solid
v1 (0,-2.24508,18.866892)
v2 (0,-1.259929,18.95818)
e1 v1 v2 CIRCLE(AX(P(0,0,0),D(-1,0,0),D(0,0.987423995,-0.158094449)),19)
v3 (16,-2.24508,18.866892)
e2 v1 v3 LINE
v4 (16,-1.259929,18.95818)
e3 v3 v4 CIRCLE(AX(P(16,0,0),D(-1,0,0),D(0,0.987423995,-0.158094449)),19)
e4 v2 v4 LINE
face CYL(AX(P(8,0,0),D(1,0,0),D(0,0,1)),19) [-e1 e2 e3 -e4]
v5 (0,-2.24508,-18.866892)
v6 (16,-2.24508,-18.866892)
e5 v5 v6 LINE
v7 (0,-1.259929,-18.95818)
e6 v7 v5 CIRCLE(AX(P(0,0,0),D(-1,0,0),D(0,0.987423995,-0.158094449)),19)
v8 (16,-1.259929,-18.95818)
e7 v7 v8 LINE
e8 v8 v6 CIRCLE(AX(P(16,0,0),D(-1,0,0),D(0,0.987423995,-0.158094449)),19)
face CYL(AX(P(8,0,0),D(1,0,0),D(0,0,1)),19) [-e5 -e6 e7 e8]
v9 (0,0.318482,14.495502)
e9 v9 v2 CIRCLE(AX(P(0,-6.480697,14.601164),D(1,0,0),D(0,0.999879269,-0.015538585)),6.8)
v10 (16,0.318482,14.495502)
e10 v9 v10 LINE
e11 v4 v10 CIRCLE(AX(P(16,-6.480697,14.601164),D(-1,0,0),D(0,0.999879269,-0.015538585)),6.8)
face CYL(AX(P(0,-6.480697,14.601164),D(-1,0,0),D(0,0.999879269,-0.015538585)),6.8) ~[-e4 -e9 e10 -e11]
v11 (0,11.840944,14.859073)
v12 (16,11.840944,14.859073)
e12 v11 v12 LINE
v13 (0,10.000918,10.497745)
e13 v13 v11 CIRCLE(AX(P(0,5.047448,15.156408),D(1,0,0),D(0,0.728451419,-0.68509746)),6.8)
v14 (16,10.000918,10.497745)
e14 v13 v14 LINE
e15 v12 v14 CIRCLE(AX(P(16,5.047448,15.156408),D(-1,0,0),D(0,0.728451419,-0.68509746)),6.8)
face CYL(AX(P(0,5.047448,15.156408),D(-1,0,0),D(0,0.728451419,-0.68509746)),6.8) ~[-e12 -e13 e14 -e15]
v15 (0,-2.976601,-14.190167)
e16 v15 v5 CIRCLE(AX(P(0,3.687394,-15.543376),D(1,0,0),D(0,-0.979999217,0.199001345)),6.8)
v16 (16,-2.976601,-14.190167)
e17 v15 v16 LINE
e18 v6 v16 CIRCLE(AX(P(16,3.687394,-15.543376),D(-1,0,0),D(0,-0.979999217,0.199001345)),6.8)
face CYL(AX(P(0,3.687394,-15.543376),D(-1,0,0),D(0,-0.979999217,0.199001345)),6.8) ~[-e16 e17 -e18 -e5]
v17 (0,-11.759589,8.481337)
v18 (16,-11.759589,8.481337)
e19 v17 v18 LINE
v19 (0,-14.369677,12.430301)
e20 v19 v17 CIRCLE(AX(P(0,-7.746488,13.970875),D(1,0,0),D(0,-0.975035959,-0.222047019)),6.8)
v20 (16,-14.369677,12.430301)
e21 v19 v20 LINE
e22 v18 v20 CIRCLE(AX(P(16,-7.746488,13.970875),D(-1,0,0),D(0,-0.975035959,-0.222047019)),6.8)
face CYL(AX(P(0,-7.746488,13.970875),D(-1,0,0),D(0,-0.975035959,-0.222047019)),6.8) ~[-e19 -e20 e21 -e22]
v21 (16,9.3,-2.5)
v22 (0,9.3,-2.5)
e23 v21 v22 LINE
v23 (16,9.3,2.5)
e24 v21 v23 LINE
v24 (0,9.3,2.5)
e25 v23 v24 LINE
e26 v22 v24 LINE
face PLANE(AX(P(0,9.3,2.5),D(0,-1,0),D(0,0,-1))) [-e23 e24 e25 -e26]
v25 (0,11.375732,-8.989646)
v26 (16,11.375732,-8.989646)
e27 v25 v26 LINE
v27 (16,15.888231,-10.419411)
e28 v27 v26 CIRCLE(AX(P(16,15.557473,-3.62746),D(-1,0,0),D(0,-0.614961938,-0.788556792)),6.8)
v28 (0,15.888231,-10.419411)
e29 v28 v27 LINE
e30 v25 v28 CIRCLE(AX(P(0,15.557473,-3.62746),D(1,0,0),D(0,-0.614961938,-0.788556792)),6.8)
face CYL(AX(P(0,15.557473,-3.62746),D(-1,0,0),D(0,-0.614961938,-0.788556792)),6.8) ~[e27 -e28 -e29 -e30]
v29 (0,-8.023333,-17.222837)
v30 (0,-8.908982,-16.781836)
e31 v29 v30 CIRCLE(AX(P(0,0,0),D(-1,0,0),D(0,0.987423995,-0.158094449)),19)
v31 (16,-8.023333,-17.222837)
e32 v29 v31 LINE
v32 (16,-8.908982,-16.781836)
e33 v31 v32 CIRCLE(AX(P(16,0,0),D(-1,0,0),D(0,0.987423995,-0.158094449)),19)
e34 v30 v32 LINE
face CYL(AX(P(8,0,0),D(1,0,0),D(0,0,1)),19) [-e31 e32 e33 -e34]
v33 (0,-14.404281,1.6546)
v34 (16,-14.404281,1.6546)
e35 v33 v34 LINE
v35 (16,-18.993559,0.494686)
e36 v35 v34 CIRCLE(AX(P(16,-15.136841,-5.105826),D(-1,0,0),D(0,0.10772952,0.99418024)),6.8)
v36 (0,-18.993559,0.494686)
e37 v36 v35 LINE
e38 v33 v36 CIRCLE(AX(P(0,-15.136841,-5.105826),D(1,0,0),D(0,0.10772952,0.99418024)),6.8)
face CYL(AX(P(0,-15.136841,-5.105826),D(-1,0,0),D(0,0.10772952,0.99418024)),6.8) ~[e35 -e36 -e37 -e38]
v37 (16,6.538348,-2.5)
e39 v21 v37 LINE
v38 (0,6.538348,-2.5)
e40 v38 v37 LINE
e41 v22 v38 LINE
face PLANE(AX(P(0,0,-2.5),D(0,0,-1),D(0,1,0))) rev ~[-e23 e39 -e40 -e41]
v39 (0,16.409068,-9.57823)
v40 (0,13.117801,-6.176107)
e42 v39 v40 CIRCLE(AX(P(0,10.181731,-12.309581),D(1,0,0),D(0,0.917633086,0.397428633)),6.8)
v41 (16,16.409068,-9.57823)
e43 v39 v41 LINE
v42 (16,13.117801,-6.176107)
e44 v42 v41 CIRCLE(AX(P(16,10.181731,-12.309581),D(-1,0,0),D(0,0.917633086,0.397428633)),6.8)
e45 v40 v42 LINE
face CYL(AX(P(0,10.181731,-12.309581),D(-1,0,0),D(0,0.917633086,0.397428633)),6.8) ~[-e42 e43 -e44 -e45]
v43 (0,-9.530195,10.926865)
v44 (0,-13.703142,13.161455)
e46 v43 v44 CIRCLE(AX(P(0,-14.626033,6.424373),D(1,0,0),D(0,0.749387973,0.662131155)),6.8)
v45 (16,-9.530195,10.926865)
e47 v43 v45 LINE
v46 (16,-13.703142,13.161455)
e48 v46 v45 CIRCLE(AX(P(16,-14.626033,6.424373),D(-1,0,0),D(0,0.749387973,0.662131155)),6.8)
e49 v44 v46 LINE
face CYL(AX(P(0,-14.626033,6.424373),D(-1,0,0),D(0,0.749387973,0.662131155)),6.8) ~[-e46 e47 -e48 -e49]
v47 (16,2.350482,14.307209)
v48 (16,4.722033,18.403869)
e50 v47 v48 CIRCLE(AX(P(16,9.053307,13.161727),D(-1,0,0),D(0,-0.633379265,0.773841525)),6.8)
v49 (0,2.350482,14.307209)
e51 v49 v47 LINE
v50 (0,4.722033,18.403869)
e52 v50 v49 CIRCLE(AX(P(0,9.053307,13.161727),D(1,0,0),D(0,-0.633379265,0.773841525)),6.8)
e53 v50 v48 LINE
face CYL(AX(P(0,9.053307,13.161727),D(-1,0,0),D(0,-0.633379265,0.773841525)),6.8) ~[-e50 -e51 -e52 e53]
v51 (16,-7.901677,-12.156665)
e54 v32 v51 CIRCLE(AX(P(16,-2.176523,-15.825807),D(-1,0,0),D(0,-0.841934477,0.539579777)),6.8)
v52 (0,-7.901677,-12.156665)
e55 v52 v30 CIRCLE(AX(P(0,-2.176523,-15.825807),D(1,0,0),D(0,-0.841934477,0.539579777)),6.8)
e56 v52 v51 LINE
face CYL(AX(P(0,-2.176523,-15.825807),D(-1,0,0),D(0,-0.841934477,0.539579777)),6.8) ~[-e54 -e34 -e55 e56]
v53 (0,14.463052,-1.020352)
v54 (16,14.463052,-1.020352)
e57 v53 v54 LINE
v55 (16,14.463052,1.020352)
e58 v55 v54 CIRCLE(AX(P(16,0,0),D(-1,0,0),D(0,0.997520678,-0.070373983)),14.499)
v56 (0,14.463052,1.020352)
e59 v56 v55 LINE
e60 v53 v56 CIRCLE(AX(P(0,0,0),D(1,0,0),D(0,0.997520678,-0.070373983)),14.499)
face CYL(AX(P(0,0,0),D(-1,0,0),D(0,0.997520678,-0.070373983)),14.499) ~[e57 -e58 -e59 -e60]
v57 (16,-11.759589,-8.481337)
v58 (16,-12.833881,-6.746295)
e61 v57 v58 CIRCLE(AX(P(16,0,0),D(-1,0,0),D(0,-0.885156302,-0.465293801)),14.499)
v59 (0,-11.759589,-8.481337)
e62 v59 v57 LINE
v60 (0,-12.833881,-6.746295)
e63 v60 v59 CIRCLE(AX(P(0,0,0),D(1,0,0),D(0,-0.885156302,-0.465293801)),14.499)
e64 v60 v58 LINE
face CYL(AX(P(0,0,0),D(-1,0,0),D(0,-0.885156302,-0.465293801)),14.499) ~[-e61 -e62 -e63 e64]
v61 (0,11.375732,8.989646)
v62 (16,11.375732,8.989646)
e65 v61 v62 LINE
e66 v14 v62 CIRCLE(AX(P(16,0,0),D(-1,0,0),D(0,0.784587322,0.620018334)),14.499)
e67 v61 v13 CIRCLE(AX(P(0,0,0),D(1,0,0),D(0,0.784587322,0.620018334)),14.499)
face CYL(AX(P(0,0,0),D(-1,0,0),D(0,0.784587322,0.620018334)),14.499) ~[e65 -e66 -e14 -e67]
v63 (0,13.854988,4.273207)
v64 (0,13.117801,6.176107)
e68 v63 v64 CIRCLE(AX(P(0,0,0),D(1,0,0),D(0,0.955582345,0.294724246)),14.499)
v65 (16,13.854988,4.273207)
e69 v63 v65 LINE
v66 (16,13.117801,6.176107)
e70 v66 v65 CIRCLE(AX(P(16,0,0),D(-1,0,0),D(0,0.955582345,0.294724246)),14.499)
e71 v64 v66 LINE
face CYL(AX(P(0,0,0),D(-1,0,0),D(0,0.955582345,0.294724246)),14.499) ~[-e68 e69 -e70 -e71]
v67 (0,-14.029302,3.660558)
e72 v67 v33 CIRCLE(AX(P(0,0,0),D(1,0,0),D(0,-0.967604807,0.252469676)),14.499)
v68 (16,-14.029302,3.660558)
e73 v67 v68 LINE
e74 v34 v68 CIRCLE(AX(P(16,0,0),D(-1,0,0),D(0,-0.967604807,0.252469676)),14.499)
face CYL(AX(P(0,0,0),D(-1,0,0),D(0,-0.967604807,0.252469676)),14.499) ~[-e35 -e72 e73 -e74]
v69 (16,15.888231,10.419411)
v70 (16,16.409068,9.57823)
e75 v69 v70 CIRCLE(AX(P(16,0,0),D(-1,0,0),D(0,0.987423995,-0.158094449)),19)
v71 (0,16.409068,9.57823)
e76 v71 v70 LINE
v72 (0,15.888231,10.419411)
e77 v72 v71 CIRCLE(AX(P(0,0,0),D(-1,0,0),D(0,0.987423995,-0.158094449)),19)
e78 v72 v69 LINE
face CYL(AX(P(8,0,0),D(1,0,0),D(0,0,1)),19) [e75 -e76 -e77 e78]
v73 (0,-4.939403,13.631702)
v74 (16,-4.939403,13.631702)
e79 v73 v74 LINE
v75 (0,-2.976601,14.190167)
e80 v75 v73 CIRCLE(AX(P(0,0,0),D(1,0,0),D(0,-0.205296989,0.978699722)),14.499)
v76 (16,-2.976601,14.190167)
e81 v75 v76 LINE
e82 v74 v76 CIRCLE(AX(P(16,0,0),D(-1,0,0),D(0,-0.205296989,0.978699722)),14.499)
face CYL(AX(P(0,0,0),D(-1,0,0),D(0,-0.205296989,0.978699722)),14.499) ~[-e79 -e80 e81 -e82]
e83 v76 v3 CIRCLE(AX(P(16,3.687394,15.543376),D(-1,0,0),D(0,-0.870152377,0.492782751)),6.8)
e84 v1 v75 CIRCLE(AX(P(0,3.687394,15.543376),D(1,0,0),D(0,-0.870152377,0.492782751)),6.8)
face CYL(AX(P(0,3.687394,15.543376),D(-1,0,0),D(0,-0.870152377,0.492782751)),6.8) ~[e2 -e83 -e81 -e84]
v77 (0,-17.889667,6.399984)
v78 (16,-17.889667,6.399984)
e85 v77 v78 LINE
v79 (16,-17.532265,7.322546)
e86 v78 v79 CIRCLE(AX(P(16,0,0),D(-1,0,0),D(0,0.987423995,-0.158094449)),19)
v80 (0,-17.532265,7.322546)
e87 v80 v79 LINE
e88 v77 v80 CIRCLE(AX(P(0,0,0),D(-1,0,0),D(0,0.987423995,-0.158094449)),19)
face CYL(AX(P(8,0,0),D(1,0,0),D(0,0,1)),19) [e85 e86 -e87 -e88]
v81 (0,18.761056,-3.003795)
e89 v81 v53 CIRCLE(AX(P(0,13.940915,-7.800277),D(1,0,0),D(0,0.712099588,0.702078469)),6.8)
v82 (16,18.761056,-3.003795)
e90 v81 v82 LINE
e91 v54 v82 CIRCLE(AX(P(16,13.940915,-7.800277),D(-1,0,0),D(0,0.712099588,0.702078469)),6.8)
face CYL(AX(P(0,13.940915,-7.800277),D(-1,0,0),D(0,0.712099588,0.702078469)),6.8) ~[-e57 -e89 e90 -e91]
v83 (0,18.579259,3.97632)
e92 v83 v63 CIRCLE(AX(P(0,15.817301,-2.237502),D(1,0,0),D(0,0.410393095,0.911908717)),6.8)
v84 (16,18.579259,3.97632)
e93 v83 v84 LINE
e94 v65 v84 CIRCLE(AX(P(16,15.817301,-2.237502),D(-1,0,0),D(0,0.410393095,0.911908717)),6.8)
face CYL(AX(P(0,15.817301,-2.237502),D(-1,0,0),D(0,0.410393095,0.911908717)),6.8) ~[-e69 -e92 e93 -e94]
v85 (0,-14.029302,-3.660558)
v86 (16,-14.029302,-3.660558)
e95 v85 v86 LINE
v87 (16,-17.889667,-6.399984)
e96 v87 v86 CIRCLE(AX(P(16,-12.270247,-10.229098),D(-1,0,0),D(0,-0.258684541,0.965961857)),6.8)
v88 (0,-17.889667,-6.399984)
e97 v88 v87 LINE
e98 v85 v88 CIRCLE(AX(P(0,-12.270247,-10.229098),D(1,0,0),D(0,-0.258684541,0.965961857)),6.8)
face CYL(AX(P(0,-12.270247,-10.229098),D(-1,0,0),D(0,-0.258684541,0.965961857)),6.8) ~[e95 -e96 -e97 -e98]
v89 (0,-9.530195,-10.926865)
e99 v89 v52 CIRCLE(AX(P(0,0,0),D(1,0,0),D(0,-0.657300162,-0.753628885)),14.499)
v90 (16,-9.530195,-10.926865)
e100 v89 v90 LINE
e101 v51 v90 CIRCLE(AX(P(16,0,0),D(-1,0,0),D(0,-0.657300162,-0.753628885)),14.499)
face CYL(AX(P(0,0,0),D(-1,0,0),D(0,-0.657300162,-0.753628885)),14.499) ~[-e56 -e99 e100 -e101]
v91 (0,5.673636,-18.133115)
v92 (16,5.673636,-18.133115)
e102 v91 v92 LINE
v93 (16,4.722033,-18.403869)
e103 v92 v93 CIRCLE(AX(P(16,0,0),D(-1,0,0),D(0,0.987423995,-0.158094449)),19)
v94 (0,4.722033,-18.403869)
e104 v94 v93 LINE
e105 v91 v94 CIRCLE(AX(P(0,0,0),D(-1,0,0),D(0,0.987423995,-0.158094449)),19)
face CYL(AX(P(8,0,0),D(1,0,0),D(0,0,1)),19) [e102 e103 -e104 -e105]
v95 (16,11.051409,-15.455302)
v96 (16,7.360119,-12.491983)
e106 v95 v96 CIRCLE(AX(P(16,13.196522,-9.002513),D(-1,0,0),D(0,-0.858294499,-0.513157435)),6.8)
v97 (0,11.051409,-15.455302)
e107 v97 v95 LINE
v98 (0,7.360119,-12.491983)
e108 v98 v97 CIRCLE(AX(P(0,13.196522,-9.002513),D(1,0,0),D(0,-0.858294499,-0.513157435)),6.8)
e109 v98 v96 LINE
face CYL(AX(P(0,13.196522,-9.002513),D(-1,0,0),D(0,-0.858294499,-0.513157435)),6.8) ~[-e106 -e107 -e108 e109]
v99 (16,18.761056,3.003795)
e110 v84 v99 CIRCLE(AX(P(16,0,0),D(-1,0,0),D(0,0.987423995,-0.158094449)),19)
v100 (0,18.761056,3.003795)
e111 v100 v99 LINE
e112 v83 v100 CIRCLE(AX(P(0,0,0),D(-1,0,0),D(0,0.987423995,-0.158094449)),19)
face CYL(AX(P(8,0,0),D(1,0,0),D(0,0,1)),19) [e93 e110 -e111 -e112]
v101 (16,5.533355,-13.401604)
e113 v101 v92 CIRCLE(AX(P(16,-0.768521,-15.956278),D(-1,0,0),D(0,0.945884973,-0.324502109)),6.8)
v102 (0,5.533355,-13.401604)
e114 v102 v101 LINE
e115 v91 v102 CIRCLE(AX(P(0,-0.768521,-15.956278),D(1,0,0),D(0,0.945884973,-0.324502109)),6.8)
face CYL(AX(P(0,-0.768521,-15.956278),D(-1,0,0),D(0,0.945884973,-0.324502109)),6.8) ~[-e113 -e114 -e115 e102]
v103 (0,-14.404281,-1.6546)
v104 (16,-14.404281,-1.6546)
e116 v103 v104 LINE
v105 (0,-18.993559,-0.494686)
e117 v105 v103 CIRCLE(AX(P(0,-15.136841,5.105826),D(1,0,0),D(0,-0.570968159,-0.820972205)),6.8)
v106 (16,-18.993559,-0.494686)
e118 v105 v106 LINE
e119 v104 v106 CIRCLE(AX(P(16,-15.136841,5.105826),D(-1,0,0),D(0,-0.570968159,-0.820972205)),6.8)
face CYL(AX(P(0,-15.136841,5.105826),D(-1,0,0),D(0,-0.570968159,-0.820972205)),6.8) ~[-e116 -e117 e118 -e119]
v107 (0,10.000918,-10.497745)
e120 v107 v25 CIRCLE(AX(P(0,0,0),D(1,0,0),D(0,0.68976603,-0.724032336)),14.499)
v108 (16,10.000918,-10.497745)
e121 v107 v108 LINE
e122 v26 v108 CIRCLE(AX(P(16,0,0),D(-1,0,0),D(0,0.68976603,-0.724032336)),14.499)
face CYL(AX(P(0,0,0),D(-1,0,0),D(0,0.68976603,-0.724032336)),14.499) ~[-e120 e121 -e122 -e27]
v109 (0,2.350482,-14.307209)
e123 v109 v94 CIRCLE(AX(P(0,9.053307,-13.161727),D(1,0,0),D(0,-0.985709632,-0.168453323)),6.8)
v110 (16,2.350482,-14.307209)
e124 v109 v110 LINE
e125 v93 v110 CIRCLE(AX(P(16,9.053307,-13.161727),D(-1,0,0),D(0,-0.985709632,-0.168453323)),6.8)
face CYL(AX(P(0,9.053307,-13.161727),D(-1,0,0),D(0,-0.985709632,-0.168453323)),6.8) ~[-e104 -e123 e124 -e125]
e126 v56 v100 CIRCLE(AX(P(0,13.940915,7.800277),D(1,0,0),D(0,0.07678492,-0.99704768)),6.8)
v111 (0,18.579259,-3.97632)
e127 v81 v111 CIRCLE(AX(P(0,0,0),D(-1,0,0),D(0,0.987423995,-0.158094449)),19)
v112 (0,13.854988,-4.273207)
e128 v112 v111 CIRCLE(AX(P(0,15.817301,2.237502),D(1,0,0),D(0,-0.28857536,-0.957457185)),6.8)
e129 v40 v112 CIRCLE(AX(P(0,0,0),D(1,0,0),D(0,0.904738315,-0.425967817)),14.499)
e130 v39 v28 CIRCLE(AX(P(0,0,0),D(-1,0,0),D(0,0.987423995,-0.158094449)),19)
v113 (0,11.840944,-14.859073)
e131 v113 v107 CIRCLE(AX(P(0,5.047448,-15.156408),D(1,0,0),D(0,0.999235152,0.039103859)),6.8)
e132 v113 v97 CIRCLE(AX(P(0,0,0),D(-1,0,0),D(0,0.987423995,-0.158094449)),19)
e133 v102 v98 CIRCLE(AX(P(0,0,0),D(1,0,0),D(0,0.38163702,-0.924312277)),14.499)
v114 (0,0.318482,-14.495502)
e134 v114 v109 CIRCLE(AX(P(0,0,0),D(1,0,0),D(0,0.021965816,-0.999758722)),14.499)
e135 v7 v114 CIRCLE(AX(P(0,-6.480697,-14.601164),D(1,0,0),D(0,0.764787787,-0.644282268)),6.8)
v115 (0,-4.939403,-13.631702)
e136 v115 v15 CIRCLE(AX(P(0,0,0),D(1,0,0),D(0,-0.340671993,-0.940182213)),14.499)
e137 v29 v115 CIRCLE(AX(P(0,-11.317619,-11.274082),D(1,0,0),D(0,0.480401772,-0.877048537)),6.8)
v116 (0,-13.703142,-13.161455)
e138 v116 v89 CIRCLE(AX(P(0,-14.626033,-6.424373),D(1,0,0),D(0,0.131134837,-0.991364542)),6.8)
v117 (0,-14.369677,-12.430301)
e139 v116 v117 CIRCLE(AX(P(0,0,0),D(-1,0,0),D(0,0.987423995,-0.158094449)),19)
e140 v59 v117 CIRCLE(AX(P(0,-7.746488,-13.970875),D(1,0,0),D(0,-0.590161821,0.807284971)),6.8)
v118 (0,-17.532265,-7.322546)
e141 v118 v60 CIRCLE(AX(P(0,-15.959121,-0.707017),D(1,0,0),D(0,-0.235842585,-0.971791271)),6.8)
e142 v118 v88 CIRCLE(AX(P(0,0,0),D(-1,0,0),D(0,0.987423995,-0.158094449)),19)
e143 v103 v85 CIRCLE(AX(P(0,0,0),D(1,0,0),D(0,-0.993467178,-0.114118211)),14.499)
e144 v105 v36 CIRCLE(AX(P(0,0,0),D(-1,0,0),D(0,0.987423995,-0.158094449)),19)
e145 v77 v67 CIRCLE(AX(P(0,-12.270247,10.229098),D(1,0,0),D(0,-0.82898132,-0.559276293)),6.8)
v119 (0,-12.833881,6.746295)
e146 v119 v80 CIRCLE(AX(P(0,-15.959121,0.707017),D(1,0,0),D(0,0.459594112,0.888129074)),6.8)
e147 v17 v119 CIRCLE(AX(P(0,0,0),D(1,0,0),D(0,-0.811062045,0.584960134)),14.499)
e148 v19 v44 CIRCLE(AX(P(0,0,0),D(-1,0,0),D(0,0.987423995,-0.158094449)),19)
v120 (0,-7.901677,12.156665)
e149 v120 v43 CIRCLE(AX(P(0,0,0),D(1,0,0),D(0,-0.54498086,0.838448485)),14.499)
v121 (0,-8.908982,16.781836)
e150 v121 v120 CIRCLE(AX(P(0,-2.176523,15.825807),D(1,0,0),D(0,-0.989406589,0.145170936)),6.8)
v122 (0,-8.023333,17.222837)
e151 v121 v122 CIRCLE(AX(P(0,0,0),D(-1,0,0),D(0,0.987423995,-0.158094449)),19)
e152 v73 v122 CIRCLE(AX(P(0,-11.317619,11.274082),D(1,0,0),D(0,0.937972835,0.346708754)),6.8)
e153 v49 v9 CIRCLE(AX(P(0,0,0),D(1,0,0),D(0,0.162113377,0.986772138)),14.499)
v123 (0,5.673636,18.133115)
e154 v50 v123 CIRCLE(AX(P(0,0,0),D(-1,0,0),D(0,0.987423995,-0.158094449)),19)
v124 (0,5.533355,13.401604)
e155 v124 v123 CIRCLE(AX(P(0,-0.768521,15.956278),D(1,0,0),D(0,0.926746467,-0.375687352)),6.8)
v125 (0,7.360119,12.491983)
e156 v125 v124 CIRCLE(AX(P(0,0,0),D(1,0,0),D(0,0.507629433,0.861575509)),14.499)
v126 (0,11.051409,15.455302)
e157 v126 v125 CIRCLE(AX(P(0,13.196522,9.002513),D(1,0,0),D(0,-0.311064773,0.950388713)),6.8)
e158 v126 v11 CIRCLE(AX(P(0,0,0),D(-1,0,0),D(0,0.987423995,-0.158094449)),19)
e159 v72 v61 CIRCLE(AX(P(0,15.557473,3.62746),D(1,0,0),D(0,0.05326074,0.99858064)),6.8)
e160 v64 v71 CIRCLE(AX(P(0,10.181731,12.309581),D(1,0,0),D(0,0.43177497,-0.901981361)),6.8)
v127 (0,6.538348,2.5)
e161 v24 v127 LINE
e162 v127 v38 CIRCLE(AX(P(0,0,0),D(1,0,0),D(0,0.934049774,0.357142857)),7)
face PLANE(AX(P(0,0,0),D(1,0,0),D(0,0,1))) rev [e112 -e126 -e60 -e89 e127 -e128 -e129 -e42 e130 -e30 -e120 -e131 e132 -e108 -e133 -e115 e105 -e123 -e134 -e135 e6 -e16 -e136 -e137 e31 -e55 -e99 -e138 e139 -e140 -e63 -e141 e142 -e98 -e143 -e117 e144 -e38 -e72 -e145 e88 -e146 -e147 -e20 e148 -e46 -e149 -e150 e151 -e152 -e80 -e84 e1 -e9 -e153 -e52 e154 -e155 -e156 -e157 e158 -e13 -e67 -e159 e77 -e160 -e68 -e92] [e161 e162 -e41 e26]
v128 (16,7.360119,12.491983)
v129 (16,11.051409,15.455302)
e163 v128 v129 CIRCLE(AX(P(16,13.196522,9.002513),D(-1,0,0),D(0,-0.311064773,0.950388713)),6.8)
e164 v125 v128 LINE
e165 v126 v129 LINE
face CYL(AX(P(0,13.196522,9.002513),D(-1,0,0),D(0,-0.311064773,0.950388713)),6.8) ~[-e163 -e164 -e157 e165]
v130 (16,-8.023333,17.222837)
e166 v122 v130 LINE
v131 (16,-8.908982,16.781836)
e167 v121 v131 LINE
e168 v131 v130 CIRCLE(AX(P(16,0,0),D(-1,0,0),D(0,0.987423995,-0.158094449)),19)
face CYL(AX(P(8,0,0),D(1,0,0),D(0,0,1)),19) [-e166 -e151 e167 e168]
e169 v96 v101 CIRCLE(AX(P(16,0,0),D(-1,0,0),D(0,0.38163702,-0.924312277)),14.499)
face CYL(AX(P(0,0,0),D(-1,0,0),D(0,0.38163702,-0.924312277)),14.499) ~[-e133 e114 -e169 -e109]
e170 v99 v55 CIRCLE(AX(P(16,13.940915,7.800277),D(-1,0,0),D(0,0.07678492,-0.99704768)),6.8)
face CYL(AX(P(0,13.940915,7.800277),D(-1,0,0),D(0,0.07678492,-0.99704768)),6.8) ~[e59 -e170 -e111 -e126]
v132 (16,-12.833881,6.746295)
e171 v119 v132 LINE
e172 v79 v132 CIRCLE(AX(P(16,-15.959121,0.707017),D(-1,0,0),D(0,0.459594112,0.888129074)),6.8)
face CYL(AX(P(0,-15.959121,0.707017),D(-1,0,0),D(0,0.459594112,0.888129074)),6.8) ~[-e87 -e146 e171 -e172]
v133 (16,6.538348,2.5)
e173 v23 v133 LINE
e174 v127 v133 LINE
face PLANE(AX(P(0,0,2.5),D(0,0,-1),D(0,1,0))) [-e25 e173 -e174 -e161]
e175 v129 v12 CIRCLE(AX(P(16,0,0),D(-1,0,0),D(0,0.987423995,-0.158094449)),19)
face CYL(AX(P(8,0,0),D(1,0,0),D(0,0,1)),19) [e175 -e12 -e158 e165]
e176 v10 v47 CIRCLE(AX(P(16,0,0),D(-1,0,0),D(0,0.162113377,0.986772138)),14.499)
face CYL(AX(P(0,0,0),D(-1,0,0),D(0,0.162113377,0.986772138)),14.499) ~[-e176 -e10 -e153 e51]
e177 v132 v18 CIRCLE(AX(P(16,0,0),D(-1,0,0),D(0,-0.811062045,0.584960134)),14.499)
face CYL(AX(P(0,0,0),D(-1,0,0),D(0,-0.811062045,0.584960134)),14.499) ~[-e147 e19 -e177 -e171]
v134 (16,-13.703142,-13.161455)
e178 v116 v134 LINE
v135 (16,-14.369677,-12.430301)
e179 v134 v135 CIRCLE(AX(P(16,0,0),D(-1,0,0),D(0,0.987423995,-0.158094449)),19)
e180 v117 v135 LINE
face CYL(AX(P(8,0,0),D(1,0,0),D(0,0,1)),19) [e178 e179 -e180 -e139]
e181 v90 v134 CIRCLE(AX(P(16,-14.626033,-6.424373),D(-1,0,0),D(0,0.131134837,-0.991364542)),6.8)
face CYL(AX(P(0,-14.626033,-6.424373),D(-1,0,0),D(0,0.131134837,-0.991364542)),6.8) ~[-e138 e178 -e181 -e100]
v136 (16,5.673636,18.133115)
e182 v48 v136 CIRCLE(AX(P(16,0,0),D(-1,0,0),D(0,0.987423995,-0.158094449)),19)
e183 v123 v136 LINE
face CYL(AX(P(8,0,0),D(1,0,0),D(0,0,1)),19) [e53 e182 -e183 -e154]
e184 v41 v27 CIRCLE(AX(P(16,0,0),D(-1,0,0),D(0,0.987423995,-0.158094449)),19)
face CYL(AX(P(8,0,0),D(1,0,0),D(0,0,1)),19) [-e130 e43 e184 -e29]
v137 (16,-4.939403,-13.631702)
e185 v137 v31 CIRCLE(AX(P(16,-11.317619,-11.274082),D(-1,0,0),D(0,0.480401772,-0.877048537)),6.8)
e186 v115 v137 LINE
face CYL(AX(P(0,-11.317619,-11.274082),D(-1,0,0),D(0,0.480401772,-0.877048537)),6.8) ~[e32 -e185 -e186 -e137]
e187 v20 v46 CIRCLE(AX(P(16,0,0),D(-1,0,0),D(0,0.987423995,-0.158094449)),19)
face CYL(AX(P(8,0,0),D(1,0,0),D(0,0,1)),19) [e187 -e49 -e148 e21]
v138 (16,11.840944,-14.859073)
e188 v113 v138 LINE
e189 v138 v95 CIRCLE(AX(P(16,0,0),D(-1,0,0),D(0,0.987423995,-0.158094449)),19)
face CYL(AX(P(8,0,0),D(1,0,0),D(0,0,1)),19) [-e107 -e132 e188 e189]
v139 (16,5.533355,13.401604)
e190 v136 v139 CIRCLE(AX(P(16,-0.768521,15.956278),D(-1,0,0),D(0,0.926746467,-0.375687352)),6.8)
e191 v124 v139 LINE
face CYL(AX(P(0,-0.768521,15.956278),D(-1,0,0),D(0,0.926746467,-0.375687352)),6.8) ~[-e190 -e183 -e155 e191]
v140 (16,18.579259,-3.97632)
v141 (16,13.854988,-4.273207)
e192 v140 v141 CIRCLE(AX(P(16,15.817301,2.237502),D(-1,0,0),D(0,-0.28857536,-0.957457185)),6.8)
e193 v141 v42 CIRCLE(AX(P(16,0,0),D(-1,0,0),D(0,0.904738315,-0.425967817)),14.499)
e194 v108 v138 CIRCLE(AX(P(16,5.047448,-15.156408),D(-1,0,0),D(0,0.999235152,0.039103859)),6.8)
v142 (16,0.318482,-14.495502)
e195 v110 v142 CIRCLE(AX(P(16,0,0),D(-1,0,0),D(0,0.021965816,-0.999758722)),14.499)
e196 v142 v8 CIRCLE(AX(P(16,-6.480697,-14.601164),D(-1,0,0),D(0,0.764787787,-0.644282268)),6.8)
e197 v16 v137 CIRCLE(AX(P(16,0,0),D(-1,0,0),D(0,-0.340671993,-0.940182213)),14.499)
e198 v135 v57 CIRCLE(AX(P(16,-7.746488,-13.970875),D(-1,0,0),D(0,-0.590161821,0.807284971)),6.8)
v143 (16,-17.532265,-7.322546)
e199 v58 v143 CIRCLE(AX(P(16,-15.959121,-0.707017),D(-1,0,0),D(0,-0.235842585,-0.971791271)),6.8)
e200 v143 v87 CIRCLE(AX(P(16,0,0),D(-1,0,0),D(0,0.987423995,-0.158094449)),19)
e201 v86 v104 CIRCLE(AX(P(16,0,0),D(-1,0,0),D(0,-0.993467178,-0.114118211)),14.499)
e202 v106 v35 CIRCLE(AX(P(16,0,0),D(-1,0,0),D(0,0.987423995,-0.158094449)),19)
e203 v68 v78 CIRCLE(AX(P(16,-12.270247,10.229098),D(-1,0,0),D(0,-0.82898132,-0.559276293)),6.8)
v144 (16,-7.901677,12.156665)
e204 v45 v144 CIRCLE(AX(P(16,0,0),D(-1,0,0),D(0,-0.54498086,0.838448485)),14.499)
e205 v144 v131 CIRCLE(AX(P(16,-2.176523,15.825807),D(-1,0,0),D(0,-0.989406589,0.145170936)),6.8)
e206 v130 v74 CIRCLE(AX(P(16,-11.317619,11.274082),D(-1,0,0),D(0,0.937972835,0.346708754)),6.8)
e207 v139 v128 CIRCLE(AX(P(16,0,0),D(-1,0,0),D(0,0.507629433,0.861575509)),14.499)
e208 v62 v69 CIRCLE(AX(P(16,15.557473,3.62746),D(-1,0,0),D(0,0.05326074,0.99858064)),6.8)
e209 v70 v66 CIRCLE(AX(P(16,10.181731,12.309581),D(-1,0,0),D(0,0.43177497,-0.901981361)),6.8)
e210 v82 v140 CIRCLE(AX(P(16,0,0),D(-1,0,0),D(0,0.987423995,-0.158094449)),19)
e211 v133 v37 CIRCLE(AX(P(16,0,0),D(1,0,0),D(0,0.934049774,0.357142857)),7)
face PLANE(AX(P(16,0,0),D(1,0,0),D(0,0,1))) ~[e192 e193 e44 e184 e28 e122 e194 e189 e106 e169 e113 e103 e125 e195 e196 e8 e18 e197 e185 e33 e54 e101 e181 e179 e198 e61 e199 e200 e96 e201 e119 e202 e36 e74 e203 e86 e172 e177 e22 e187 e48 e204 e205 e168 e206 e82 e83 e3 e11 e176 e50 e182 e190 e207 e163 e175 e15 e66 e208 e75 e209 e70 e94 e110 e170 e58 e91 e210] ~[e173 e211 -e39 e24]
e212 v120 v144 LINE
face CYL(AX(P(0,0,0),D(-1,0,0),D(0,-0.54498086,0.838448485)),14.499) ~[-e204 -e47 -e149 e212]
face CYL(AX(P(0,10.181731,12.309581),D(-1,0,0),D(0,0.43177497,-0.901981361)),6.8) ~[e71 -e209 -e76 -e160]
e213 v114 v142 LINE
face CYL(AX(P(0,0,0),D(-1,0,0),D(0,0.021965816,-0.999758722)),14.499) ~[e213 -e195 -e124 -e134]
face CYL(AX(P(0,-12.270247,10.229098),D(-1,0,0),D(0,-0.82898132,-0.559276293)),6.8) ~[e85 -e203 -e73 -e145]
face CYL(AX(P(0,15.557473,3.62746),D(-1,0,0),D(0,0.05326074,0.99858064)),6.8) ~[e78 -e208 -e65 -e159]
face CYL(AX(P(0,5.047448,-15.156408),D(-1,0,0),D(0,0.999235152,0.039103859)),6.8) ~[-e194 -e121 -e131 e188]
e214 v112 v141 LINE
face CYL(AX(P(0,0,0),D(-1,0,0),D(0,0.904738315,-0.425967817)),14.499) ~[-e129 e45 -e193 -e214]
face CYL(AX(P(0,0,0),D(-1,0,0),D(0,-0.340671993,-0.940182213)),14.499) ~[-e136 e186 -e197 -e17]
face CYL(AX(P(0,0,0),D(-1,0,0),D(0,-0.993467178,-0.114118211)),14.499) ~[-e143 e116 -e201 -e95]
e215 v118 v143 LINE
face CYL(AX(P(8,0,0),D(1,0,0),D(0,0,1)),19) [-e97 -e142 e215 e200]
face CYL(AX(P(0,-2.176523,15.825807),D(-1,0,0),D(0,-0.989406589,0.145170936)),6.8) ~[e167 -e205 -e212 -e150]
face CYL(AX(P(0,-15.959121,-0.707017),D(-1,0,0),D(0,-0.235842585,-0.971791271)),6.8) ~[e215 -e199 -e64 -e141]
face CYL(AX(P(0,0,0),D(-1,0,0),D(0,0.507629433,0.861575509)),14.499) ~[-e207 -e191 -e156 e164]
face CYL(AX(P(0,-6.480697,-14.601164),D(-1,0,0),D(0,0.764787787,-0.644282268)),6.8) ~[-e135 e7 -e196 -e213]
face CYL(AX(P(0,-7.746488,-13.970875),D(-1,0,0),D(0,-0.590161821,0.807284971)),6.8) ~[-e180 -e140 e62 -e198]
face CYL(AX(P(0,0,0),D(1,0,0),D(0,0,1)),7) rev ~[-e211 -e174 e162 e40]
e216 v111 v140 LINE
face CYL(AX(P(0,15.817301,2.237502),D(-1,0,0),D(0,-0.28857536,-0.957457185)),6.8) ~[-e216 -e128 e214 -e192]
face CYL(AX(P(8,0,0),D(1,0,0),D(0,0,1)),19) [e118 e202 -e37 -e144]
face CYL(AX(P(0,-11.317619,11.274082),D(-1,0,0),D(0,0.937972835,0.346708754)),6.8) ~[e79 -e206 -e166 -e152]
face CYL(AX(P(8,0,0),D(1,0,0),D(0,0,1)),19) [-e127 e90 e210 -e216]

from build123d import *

# Parameters (mm, degrees)
BASPROSKE_W     = 16
BASPROSKE_H     = 19
TOOTHCUT_DEPTH  = 32.272991542
TEETHCUTS_COUNT = 17
TEETHCUTS_ANGLE = 338.823529412
BORSKE_R        = 7
BORE_DEPTH      = 50.0000508
KEYSKE_W        = 5
KEYSKE_H        = 9.3
KEYWAY_DEPTH    = 50.0000508


with BuildPart() as part:
    # BasProSke → Base-Revolve (revolve)
    with BuildSketch(Plane(origin=(0, 0, 0), x_dir=(1, 0, 0), z_dir=(0, 1, 0)), mode=Mode.PRIVATE) as base_revolve_sk:
        with Locations((8, 9.5)):
            Rectangle(BASPROSKE_W, BASPROSKE_H)
    revolve(base_revolve_sk.sketch.rotate(Axis((-10, 0, 0), (1, 0, 0)), 180), axis=Axis((-10, 0, 0), (1, 0, 0)))

    # TooCutSke → ToothCut (cut, through all)
    with BuildSketch(Plane(origin=(0, 0, 0), x_dir=(0, 0, -1), z_dir=(1, 0, 0))):
        with BuildLine():
            ThreePointArc((1.020352389, 14.463052306), (0, 14.499), (-1.020352389, 14.463052306))
            ThreePointArc((-1.020352389, 14.463052306), (-1.632621885, 16.804485203), (-3.026143023, 18.783192049))
            ThreePointArc((-3.026143023, 18.783192049), (0, 19.0254), (3.026143023, 18.783192049))
            ThreePointArc((3.026143023, 18.783192049), (1.632621885, 16.804485203), (1.020352389, 14.463052306))
        make_face()
    toothcut = extrude(amount=TOOTHCUT_DEPTH, mode=Mode.SUBTRACT)

    # TeethCuts: ToothCut ×17 about axis
    teethcuts_axis = Axis((-10, 0, 0), (1, 0, 0))
    for i in range(1, TEETHCUTS_COUNT):
        add(toothcut.rotate(teethcuts_axis, i * TEETHCUTS_ANGLE / (TEETHCUTS_COUNT - 1)), mode=Mode.SUBTRACT)

    # BorSke → Bore (cut, symmetric)
    with BuildSketch(Plane(origin=(0, 0, 0), x_dir=(0, 0, -1), z_dir=(1, 0, 0))):
        with Locations(Location((0, 0, 0), (0, 0, 180))):
            Circle(BORSKE_R)
    extrude(amount=BORE_DEPTH, both=True, mode=Mode.SUBTRACT)

    # KeySke → Keyway (cut, symmetric)
    with BuildSketch(Plane(origin=(0, 0, 0), x_dir=(0, 0, -1), z_dir=(1, 0, 0))):
        with Locations((0, 4.65)):
            Rectangle(KEYSKE_W, KEYSKE_H)
    extrude(amount=KEYWAY_DEPTH, both=True, mode=Mode.SUBTRACT)


solid = part.part
